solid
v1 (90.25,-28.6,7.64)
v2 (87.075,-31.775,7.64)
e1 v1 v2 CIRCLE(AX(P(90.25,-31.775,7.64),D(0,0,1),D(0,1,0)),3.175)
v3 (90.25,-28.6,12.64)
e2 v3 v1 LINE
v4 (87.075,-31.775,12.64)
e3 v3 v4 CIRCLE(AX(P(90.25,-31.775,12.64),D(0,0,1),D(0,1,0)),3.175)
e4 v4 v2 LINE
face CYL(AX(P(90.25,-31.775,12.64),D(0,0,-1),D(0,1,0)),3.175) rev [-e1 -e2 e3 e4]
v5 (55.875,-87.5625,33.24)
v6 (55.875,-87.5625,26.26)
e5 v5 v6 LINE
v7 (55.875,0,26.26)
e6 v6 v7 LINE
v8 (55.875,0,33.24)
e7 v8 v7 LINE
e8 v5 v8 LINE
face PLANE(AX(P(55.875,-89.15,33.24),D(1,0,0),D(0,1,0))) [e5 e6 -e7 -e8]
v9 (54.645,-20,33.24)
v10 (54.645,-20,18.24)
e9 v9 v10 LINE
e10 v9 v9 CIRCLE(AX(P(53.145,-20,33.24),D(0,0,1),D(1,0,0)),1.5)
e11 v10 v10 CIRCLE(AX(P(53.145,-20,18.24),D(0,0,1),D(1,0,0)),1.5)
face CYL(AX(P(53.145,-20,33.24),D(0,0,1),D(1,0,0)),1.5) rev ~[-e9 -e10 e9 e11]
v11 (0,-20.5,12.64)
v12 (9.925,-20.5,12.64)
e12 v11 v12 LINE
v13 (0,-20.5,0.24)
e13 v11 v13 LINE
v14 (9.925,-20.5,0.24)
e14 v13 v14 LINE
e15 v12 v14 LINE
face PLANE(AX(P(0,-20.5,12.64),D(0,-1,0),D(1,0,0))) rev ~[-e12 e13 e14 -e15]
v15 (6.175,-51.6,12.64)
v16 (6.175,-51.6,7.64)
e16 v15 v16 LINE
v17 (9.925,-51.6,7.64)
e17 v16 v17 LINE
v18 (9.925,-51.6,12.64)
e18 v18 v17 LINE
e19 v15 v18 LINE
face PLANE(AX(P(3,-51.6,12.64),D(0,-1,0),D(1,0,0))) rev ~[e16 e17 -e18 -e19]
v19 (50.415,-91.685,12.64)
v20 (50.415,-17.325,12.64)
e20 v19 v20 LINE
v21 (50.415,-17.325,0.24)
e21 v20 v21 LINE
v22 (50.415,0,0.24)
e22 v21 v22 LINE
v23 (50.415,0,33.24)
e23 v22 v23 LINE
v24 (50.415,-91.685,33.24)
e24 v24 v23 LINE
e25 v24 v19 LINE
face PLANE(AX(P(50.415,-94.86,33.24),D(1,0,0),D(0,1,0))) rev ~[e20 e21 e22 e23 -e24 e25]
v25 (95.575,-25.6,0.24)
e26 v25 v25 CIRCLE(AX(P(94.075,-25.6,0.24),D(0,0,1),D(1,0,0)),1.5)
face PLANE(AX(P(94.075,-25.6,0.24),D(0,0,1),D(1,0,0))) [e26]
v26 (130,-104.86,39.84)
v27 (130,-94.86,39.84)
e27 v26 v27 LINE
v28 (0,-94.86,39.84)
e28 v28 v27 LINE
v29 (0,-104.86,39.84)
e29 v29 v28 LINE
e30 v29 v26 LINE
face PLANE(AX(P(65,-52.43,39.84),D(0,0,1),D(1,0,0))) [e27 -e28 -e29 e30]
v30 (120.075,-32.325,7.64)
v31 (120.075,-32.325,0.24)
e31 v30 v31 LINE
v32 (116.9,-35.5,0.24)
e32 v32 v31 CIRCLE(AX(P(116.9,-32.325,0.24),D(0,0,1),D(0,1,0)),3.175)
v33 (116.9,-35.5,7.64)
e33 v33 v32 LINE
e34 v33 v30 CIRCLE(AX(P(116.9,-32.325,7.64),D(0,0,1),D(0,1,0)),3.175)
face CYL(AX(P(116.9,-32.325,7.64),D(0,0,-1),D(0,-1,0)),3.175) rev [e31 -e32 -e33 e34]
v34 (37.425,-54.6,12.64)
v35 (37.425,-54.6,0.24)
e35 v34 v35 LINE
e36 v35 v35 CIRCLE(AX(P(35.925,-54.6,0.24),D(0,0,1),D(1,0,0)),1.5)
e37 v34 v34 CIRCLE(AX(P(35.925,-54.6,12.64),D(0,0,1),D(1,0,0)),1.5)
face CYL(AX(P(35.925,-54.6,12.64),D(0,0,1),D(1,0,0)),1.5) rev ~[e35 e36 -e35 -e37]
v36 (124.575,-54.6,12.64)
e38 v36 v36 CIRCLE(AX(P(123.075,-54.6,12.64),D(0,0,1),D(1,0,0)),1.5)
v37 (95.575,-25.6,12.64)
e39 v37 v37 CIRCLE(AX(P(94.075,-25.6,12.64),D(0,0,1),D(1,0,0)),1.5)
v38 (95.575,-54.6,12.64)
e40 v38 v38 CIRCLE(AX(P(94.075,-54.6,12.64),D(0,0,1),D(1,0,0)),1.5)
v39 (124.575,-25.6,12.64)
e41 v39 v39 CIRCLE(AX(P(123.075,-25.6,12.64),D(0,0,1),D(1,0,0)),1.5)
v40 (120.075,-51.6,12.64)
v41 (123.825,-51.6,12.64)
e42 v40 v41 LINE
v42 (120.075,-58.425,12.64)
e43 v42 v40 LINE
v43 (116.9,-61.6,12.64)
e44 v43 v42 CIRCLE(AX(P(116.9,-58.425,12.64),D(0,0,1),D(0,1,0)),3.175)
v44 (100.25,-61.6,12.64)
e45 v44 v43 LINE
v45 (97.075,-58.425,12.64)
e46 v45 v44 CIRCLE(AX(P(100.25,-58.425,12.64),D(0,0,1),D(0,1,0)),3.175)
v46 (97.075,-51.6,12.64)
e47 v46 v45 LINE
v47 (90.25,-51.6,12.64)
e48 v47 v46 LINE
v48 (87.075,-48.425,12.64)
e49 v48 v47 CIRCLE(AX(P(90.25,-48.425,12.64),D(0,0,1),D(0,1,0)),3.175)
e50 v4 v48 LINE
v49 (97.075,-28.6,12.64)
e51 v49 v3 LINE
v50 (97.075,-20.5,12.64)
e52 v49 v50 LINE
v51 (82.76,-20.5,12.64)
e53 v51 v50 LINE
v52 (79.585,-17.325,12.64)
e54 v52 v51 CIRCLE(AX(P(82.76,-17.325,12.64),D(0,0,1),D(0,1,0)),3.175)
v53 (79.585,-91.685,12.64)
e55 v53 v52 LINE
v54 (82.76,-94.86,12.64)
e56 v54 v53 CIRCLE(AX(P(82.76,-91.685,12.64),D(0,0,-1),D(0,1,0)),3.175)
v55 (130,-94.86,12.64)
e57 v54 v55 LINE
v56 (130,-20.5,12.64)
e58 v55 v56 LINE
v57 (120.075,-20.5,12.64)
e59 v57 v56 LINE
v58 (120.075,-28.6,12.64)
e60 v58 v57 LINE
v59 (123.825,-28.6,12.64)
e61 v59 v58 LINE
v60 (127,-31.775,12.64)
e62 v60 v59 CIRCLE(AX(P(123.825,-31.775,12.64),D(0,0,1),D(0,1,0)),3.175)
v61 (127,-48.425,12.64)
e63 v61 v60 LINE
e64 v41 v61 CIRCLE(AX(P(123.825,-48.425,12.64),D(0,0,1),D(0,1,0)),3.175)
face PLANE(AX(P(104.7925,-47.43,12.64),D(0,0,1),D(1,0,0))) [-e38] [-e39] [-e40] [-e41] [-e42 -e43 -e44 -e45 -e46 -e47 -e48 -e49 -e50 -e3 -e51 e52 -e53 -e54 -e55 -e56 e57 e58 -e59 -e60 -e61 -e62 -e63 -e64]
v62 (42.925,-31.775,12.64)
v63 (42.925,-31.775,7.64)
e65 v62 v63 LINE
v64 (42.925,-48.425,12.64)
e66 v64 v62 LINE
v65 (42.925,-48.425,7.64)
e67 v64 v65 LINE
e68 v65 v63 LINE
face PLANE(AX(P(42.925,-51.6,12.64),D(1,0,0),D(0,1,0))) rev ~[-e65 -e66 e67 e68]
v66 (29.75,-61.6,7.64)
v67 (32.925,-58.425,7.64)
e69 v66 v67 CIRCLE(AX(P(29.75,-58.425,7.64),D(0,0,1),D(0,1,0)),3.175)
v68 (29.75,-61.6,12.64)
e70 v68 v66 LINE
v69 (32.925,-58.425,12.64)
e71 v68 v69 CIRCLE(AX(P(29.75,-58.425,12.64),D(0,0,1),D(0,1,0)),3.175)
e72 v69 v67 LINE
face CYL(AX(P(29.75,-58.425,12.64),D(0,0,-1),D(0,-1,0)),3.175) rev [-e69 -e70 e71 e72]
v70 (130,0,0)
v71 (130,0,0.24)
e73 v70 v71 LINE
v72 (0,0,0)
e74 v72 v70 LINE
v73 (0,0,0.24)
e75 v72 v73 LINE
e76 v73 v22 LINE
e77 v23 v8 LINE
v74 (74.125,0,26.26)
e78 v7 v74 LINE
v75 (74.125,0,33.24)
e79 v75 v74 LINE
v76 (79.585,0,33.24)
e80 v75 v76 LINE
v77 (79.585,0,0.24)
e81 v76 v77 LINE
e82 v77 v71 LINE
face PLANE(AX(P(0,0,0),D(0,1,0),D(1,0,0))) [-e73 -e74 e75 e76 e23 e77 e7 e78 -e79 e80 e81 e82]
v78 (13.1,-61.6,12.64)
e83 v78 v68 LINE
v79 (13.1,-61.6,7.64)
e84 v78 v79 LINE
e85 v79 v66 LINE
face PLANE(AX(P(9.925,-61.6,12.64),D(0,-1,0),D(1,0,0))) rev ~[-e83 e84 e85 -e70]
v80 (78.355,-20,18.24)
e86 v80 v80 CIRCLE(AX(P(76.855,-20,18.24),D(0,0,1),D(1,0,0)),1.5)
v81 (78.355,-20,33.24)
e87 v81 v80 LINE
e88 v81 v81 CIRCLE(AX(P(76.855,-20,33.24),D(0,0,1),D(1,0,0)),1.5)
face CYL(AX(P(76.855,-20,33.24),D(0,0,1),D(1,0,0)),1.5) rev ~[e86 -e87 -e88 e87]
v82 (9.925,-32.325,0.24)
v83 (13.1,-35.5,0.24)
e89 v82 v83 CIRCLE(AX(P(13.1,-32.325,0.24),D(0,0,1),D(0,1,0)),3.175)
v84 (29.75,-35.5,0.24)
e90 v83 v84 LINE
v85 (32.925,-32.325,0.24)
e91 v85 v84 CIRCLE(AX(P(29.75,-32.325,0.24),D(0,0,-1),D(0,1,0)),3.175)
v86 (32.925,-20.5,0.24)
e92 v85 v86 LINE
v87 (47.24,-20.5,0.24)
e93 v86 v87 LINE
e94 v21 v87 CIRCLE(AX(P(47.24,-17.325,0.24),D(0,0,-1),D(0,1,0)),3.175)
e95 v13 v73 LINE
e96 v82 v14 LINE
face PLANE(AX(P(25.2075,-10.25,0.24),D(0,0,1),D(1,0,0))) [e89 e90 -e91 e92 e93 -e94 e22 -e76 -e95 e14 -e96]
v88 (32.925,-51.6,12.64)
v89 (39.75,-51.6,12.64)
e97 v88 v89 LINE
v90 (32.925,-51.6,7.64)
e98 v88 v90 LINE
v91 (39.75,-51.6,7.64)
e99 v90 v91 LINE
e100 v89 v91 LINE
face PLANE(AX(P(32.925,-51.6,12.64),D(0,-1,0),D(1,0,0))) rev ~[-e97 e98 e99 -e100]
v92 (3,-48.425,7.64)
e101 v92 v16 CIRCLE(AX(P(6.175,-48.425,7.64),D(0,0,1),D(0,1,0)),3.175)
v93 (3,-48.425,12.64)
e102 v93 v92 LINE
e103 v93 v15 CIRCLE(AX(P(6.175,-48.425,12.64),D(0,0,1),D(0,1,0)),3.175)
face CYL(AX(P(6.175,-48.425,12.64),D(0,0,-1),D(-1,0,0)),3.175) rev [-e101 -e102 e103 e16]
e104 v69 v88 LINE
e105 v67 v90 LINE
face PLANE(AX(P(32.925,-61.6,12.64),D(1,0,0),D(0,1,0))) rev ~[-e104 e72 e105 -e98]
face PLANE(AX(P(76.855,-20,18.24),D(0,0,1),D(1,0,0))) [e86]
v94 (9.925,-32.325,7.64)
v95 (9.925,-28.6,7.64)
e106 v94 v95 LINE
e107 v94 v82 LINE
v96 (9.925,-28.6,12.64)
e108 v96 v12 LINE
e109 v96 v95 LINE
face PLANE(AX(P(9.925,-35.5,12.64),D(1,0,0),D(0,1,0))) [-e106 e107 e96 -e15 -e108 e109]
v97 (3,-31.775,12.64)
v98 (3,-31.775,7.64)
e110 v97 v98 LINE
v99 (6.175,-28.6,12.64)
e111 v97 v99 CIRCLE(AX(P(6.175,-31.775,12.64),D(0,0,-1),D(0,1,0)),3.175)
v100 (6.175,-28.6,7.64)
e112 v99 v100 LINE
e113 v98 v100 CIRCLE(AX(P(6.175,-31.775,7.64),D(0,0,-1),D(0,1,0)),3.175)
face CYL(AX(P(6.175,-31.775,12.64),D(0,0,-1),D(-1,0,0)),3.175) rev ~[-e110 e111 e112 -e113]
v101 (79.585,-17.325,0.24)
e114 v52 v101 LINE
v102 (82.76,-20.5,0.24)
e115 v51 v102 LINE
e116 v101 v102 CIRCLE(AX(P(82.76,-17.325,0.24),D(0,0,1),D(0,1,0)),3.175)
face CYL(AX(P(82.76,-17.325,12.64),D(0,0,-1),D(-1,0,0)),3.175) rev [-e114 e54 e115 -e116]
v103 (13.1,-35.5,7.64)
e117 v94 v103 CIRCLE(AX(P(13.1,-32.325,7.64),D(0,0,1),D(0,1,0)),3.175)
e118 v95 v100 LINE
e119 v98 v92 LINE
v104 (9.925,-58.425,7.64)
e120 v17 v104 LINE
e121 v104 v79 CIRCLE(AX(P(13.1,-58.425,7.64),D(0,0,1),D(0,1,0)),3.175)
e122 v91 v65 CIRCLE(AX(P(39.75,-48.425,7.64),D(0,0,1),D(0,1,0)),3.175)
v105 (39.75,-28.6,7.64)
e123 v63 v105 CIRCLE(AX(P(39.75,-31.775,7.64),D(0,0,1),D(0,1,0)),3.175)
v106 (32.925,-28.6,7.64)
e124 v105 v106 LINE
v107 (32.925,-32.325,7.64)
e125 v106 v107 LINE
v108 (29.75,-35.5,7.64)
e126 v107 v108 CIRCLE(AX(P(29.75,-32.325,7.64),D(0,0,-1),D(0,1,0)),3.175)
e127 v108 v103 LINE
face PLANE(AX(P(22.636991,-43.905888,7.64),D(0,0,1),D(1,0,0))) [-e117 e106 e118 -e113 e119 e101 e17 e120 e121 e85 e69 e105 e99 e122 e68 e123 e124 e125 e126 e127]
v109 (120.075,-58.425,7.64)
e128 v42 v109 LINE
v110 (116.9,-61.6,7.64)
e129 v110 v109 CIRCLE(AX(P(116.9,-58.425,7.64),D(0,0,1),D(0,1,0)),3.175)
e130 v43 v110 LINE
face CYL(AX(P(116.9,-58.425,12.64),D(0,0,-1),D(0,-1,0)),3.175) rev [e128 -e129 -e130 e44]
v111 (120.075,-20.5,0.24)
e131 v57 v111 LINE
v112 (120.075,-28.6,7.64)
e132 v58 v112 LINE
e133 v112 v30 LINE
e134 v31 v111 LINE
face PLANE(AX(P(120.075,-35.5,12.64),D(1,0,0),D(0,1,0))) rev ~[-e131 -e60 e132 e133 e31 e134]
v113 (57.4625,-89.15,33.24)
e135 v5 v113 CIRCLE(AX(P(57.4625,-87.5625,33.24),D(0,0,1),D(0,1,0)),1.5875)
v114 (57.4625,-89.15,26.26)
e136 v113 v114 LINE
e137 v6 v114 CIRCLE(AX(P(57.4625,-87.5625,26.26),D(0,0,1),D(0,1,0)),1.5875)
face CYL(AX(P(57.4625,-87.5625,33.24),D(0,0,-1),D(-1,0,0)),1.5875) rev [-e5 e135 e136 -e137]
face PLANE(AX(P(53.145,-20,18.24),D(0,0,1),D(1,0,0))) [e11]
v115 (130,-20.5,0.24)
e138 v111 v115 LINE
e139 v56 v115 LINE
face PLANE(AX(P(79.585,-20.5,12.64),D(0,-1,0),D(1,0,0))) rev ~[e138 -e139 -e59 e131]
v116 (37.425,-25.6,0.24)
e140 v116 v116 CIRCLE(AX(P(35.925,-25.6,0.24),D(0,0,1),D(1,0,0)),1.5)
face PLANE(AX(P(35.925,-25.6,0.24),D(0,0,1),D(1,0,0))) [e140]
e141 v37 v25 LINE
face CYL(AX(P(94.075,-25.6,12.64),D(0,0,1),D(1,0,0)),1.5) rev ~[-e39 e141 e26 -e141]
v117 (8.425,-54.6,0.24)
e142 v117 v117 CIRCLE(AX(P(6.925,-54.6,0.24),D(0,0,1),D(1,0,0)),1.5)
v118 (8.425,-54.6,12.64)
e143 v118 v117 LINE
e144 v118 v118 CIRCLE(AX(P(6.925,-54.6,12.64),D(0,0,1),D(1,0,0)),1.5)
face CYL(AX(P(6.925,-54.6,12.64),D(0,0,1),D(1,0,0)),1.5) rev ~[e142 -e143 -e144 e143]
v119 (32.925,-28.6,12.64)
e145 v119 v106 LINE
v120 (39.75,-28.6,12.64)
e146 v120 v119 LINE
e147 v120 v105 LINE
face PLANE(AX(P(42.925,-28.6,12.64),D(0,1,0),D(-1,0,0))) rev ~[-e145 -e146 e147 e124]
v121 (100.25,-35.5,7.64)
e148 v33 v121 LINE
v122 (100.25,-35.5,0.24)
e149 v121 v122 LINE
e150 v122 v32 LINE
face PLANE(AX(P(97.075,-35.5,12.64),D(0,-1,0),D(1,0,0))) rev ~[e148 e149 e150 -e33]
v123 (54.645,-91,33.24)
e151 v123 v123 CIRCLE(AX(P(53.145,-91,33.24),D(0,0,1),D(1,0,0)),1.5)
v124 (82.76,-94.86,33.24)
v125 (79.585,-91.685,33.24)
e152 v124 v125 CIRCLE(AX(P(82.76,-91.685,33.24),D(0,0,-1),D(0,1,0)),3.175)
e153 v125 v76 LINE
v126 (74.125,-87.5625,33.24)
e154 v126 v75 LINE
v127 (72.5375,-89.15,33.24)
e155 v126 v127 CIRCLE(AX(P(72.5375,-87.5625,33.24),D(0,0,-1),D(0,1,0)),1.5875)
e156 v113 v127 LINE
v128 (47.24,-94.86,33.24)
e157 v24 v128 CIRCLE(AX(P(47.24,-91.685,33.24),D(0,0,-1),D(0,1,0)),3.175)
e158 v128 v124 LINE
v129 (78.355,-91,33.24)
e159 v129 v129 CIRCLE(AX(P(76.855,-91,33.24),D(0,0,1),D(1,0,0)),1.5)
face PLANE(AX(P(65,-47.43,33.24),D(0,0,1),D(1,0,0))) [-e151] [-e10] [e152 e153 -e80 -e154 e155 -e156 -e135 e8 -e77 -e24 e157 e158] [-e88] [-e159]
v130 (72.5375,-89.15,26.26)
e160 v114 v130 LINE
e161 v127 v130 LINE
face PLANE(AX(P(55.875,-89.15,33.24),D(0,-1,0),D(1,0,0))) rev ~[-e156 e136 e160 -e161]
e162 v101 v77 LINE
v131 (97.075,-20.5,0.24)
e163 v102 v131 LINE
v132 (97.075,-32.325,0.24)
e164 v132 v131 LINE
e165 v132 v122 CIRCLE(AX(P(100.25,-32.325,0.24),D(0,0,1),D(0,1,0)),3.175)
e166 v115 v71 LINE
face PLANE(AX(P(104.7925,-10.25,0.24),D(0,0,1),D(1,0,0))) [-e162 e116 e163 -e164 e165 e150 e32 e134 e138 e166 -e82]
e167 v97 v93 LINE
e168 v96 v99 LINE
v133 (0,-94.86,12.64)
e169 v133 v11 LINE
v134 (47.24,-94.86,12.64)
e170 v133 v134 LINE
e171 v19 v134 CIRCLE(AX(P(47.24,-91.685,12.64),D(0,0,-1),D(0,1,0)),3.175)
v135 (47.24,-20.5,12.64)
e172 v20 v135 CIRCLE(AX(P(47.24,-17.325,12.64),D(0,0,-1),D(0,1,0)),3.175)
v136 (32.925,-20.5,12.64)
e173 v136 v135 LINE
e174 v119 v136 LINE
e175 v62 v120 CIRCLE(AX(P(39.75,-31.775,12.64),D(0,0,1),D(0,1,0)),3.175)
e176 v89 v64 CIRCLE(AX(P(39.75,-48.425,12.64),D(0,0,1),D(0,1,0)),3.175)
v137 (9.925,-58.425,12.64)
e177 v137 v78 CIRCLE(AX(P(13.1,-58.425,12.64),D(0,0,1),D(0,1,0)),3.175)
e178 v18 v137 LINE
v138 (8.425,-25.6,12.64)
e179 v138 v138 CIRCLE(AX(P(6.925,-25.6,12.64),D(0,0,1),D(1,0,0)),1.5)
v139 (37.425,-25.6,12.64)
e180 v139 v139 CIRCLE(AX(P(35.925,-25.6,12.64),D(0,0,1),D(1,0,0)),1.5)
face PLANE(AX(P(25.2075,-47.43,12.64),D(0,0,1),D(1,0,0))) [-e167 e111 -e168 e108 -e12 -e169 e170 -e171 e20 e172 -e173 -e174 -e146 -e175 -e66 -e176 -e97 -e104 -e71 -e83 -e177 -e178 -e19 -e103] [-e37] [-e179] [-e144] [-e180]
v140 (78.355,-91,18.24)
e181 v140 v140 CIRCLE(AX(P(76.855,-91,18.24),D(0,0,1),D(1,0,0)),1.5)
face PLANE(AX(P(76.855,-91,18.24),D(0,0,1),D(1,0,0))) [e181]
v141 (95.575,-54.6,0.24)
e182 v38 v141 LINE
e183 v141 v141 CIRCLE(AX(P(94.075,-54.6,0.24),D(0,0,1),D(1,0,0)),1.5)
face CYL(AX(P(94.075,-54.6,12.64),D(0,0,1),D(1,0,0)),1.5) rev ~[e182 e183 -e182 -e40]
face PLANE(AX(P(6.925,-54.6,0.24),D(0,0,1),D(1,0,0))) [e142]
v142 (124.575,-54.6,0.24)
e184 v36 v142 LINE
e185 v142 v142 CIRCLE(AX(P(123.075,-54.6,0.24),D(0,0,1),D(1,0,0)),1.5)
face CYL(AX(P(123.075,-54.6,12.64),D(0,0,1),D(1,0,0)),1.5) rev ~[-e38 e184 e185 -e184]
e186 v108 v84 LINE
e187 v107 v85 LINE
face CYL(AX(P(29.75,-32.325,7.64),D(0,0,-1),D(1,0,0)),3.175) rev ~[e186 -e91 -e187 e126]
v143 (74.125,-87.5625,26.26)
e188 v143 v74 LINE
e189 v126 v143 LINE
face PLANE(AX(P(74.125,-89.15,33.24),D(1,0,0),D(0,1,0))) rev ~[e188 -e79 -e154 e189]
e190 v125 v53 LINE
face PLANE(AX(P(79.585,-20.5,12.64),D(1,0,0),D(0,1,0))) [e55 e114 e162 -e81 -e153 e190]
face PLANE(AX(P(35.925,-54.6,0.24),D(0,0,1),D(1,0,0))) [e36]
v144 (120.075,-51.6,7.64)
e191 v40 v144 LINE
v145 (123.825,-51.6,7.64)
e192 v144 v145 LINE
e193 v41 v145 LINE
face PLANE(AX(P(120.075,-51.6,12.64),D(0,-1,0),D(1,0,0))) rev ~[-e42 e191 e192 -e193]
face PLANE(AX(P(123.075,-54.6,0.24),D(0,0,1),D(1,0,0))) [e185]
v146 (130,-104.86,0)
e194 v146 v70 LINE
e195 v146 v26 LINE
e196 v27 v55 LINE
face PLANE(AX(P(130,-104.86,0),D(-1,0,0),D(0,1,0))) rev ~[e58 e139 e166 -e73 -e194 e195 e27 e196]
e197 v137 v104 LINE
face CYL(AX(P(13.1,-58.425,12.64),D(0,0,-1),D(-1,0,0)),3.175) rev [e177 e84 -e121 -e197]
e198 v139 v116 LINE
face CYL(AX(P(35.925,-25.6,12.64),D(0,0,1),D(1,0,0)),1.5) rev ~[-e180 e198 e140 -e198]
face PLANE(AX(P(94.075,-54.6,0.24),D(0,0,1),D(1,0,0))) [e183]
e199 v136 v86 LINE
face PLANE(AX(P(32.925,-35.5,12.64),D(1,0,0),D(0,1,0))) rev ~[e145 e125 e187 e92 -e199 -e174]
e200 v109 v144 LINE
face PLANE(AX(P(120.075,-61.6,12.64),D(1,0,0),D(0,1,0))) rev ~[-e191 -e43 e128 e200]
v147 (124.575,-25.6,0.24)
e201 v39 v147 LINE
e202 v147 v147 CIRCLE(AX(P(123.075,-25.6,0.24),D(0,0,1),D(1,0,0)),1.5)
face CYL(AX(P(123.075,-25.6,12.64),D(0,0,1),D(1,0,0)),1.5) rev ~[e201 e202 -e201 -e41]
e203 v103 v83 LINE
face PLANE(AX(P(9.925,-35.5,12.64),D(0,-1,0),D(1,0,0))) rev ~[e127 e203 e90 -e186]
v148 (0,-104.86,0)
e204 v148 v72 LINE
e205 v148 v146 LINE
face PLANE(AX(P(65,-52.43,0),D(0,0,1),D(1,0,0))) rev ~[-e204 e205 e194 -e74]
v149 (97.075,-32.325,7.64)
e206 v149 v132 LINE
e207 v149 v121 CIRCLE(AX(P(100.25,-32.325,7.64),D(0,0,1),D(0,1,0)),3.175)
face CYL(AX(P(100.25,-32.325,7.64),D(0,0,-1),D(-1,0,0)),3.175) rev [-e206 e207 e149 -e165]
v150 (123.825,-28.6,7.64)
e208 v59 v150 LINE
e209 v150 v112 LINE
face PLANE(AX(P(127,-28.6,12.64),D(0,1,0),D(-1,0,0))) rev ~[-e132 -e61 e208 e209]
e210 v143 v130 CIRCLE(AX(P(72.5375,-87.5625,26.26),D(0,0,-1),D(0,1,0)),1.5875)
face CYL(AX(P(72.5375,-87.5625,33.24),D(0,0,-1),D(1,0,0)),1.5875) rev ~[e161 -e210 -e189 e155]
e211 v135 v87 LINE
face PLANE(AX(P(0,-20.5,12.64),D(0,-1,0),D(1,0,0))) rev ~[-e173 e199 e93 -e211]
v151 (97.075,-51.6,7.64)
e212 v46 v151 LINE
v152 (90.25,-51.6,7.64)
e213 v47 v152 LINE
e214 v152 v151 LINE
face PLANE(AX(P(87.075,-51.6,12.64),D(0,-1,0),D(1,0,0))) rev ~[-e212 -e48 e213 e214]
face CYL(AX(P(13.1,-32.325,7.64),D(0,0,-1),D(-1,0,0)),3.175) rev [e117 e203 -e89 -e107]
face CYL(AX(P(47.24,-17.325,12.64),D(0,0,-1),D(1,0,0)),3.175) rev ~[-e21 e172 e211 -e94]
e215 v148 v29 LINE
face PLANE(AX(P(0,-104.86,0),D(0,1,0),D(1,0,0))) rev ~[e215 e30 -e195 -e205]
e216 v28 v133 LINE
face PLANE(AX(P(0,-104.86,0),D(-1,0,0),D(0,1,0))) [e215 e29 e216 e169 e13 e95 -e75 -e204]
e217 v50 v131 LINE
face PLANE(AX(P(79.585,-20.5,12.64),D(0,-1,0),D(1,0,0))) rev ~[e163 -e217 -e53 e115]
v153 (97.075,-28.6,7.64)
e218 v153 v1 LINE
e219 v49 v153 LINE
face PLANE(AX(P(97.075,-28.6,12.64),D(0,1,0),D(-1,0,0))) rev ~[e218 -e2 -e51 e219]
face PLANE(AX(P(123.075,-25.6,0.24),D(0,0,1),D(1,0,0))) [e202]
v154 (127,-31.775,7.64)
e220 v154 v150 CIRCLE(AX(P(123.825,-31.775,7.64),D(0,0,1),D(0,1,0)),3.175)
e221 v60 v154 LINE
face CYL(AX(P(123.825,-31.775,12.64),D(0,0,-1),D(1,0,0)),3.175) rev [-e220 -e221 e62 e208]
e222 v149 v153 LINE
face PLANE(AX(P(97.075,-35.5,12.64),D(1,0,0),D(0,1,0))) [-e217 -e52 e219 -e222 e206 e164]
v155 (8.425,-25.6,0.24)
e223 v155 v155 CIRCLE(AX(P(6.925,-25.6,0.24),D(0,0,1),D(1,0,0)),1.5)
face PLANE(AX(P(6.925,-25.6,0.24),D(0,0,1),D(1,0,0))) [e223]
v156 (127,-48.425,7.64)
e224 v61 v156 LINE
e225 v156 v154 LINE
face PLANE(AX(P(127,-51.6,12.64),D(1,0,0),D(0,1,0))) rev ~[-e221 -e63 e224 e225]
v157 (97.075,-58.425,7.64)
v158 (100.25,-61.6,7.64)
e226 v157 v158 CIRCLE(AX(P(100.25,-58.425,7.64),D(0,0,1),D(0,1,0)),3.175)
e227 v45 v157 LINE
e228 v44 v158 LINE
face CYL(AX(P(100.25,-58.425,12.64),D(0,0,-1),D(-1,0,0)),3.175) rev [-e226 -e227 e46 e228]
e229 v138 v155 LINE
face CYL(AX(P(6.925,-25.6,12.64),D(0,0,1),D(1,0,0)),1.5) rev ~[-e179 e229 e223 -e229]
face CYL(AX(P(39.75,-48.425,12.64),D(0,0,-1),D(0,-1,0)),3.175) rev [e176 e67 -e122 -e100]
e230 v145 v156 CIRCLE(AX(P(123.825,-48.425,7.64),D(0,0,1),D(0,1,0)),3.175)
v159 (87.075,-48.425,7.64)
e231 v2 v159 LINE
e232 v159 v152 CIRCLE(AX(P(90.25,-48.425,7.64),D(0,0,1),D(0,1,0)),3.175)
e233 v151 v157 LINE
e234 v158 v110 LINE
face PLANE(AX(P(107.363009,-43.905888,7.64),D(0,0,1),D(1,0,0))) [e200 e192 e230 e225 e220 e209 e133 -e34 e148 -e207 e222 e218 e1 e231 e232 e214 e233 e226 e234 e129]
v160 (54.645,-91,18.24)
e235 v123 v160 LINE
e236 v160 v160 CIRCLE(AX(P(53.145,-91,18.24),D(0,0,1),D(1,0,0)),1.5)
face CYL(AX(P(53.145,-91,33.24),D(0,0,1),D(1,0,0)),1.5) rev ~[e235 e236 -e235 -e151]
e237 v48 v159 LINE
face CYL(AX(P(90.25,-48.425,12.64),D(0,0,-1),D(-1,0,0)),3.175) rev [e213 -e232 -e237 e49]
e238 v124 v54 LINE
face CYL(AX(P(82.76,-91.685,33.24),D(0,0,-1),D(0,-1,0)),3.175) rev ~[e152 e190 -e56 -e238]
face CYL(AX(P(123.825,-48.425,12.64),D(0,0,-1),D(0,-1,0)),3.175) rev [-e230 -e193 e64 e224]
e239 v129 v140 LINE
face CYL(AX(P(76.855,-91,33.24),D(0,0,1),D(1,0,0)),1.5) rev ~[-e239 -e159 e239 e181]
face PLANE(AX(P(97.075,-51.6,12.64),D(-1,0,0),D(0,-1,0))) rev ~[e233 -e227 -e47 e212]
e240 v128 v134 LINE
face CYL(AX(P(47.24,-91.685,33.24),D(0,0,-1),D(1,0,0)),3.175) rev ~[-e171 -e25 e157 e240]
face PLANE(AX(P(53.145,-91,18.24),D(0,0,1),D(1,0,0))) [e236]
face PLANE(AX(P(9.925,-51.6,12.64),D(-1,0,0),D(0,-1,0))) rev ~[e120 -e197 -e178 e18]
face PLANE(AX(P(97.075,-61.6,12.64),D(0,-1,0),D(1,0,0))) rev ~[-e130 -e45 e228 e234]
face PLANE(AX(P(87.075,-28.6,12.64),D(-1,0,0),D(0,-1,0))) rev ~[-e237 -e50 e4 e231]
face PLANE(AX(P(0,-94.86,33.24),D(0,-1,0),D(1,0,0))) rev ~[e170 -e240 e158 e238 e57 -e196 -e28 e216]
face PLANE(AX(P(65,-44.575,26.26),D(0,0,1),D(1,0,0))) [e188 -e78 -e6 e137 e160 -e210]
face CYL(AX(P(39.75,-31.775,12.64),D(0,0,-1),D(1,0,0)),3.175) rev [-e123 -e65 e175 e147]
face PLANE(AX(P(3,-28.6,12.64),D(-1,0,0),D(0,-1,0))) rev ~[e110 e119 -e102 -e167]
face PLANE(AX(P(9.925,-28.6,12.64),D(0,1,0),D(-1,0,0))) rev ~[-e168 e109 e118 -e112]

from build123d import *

# Parameters (mm, degrees)
SKETCH1_W           = 130
SKETCH1_H           = 104.86
BOSS_EXTRUDE1_DEPTH = 39.84
SKETCH2_W           = 130
SKETCH2_H           = 94.86
CUT_EXTRUDE1_DEPTH  = 6.6
SKETCH3_W           = 18.25
SKETCH3_H           = 89.15
CUT_EXTRUDE2_DEPTH  = 6.98
SKETCH5_W           = 50.415
SKETCH5_H           = 94.86
CUT_EXTRUDE3_DEPTH  = 20.6
SKETCH6_R           = 1.5
CUT_EXTRUDE4_DEPTH  = 12.4
SKETCH7_W           = 50.415
SKETCH7_H           = 20.5
CUT_EXTRUDE5_DEPTH  = 12.4
SKETCH9_W           = 23
SKETCH9_H           = 15
CUT_EXTRUDE7_DEPTH  = 12.4
CUT_EXTRUDE8_DEPTH  = 5
SKETCH11_R          = 1.5
CUT_EXTRUDE9_DEPTH  = 15
FILLET2_R           = 3.175
FILLET3_R           = 3.175
FILLET4_R           = 3.175
FILLET5_R           = 1.5875
FILLET6_R           = 3.175


with BuildPart() as part:
    # Sketch1 → Boss-Extrude1 (new body)
    with BuildSketch(Plane.XY):
        with Locations((65, -52.43)):
            Rectangle(SKETCH1_W, SKETCH1_H)
    extrude(amount=BOSS_EXTRUDE1_DEPTH)

    # Sketch2 → Cut-Extrude1 (cut)
    with BuildSketch(Plane.XY.offset(39.84)):
        with Locations((65, -47.43)):
            Rectangle(SKETCH2_W, SKETCH2_H)
    extrude(amount=-CUT_EXTRUDE1_DEPTH, mode=Mode.SUBTRACT)

    # Sketch3 → Cut-Extrude2 (cut)
    with BuildSketch(Plane.XY.offset(33.24)):
        with Locations((65, -44.575)):
            Rectangle(SKETCH3_W, SKETCH3_H)
    extrude(amount=-CUT_EXTRUDE2_DEPTH, mode=Mode.SUBTRACT)

    # Sketch5 → Cut-Extrude3 (cut)
    with BuildSketch(Plane.XY.offset(33.24)):
        with Locations((104.7925, -47.43)):
            Rectangle(SKETCH5_W, SKETCH5_H)
        with Locations((25.2075, -47.43)):
            Rectangle(SKETCH5_W, SKETCH5_H)
    extrude(amount=-CUT_EXTRUDE3_DEPTH, mode=Mode.SUBTRACT)

    # Sketch6 → Cut-Extrude4 (cut)
    with BuildSketch(Plane.XY.offset(12.64)):
        with Locations((35.925, -25.6)):
            Circle(SKETCH6_R)
        with Locations((6.925, -25.6)):
            Circle(SKETCH6_R)
        with Locations((35.925, -54.6)):
            Circle(SKETCH6_R)
        with Locations((6.925, -54.6)):
            Circle(SKETCH6_R)
        with Locations((94.075, -25.6)):
            Circle(SKETCH6_R)
        with Locations((123.075, -25.6)):
            Circle(SKETCH6_R)
        with Locations((94.075, -54.6)):
            Circle(SKETCH6_R)
        with Locations((123.075, -54.6)):
            Circle(SKETCH6_R)
    extrude(amount=-CUT_EXTRUDE4_DEPTH, mode=Mode.SUBTRACT)

    # Sketch7 → Cut-Extrude5 (cut)
    with BuildSketch(Plane.XY.offset(12.64)):
        with Locations((25.2075, -10.25)):
            Rectangle(SKETCH7_W, SKETCH7_H)
        with Locations((104.7925, -10.25)):
            Rectangle(SKETCH7_W, SKETCH7_H)
    extrude(amount=-CUT_EXTRUDE5_DEPTH, mode=Mode.SUBTRACT)

    # Sketch9 → Cut-Extrude7 (cut)
    with BuildSketch(Plane.XY.offset(12.64)):
        with Locations((108.575, -28)):
            Rectangle(SKETCH9_W, SKETCH9_H)
        with Locations((21.425, -28)):
            Rectangle(SKETCH9_W, SKETCH9_H)
    extrude(amount=-CUT_EXTRUDE7_DEPTH, mode=Mode.SUBTRACT)

    # Sketch10 → Cut-Extrude8 (cut)
    with BuildSketch(Plane.XY.offset(12.64)):
        Polygon((9.925, -28.6), (3, -28.6), (3, -51.6), (9.925, -51.6), (9.925, -61.6), (32.925, -61.6), (32.925, -51.6), (42.925, -51.6), (42.925, -28.6), (32.925, -28.6), (32.925, -35.5), (9.925, -35.5), align=None)
        Polygon((97.075, -28.6), (87.075, -28.6), (87.075, -51.6), (97.075, -51.6), (97.075, -61.6), (120.075, -61.6), (120.075, -51.6), (127, -51.6), (127, -28.6), (120.075, -28.6), (120.075, -35.5), (97.075, -35.5), align=None)
    extrude(amount=-CUT_EXTRUDE8_DEPTH, mode=Mode.SUBTRACT)

    # Sketch11 → Cut-Extrude9 (cut)
    with BuildSketch(Plane.XY.offset(33.24)):
        with Locations((53.145, -20)):
            Circle(SKETCH11_R)
        with Locations((76.855, -20)):
            Circle(SKETCH11_R)
        with Locations((53.145, -91)):
            Circle(SKETCH11_R)
        with Locations((76.855, -91)):
            Circle(SKETCH11_R)
    extrude(amount=-CUT_EXTRUDE9_DEPTH, mode=Mode.SUBTRACT)

    # Fillet2
    fillet2_edges = [part.edges().sort_by_distance(p)[0] for p in [
        (3, -51.6, 10.14),
    ]]
    fillet(fillet2_edges, radius=FILLET2_R)

    # Fillet3
    fillet3_edges = [part.edges().sort_by_distance(p)[0] for p in [
        (50.415, -20.5, 6.44),
        (79.585, -20.5, 6.44),
        (32.925, -35.5, 3.94),
        (9.925, -35.5, 3.94),
        (42.925, -28.6, 10.14),
        (42.925, -51.6, 10.14),
        (32.925, -61.6, 10.14),
        (9.925, -61.6, 10.14),
        (3, -28.6, 10.14),
        (127, -28.6, 10.14),
        (127, -51.6, 10.14),
        (120.075, -61.6, 10.14),
        (97.075, -61.6, 10.14),
        (87.075, -51.6, 10.14),
        (87.075, -28.6, 10.14),
    ]]
    fillet(fillet3_edges, radius=FILLET3_R)

    # Fillet4
    fillet4_edges = [part.edges().sort_by_distance(p)[0] for p in [
        (120.075, -35.5, 3.94),
        (97.075, -35.5, 3.94),
    ]]
    fillet(fillet4_edges, radius=FILLET4_R)

    # Fillet5
    fillet5_edges = [part.edges().sort_by_distance(p)[0] for p in [
        (74.125, -89.15, 29.75),
        (55.875, -89.15, 29.75),
    ]]
    fillet(fillet5_edges, radius=FILLET5_R)

    # Fillet6
    fillet6_edges = [part.edges().sort_by_distance(p)[0] for p in [
        (79.585, -94.86, 22.94),
        (50.415, -94.86, 22.94),
    ]]
    fillet(fillet6_edges, radius=FILLET6_R)


solid = part.part
